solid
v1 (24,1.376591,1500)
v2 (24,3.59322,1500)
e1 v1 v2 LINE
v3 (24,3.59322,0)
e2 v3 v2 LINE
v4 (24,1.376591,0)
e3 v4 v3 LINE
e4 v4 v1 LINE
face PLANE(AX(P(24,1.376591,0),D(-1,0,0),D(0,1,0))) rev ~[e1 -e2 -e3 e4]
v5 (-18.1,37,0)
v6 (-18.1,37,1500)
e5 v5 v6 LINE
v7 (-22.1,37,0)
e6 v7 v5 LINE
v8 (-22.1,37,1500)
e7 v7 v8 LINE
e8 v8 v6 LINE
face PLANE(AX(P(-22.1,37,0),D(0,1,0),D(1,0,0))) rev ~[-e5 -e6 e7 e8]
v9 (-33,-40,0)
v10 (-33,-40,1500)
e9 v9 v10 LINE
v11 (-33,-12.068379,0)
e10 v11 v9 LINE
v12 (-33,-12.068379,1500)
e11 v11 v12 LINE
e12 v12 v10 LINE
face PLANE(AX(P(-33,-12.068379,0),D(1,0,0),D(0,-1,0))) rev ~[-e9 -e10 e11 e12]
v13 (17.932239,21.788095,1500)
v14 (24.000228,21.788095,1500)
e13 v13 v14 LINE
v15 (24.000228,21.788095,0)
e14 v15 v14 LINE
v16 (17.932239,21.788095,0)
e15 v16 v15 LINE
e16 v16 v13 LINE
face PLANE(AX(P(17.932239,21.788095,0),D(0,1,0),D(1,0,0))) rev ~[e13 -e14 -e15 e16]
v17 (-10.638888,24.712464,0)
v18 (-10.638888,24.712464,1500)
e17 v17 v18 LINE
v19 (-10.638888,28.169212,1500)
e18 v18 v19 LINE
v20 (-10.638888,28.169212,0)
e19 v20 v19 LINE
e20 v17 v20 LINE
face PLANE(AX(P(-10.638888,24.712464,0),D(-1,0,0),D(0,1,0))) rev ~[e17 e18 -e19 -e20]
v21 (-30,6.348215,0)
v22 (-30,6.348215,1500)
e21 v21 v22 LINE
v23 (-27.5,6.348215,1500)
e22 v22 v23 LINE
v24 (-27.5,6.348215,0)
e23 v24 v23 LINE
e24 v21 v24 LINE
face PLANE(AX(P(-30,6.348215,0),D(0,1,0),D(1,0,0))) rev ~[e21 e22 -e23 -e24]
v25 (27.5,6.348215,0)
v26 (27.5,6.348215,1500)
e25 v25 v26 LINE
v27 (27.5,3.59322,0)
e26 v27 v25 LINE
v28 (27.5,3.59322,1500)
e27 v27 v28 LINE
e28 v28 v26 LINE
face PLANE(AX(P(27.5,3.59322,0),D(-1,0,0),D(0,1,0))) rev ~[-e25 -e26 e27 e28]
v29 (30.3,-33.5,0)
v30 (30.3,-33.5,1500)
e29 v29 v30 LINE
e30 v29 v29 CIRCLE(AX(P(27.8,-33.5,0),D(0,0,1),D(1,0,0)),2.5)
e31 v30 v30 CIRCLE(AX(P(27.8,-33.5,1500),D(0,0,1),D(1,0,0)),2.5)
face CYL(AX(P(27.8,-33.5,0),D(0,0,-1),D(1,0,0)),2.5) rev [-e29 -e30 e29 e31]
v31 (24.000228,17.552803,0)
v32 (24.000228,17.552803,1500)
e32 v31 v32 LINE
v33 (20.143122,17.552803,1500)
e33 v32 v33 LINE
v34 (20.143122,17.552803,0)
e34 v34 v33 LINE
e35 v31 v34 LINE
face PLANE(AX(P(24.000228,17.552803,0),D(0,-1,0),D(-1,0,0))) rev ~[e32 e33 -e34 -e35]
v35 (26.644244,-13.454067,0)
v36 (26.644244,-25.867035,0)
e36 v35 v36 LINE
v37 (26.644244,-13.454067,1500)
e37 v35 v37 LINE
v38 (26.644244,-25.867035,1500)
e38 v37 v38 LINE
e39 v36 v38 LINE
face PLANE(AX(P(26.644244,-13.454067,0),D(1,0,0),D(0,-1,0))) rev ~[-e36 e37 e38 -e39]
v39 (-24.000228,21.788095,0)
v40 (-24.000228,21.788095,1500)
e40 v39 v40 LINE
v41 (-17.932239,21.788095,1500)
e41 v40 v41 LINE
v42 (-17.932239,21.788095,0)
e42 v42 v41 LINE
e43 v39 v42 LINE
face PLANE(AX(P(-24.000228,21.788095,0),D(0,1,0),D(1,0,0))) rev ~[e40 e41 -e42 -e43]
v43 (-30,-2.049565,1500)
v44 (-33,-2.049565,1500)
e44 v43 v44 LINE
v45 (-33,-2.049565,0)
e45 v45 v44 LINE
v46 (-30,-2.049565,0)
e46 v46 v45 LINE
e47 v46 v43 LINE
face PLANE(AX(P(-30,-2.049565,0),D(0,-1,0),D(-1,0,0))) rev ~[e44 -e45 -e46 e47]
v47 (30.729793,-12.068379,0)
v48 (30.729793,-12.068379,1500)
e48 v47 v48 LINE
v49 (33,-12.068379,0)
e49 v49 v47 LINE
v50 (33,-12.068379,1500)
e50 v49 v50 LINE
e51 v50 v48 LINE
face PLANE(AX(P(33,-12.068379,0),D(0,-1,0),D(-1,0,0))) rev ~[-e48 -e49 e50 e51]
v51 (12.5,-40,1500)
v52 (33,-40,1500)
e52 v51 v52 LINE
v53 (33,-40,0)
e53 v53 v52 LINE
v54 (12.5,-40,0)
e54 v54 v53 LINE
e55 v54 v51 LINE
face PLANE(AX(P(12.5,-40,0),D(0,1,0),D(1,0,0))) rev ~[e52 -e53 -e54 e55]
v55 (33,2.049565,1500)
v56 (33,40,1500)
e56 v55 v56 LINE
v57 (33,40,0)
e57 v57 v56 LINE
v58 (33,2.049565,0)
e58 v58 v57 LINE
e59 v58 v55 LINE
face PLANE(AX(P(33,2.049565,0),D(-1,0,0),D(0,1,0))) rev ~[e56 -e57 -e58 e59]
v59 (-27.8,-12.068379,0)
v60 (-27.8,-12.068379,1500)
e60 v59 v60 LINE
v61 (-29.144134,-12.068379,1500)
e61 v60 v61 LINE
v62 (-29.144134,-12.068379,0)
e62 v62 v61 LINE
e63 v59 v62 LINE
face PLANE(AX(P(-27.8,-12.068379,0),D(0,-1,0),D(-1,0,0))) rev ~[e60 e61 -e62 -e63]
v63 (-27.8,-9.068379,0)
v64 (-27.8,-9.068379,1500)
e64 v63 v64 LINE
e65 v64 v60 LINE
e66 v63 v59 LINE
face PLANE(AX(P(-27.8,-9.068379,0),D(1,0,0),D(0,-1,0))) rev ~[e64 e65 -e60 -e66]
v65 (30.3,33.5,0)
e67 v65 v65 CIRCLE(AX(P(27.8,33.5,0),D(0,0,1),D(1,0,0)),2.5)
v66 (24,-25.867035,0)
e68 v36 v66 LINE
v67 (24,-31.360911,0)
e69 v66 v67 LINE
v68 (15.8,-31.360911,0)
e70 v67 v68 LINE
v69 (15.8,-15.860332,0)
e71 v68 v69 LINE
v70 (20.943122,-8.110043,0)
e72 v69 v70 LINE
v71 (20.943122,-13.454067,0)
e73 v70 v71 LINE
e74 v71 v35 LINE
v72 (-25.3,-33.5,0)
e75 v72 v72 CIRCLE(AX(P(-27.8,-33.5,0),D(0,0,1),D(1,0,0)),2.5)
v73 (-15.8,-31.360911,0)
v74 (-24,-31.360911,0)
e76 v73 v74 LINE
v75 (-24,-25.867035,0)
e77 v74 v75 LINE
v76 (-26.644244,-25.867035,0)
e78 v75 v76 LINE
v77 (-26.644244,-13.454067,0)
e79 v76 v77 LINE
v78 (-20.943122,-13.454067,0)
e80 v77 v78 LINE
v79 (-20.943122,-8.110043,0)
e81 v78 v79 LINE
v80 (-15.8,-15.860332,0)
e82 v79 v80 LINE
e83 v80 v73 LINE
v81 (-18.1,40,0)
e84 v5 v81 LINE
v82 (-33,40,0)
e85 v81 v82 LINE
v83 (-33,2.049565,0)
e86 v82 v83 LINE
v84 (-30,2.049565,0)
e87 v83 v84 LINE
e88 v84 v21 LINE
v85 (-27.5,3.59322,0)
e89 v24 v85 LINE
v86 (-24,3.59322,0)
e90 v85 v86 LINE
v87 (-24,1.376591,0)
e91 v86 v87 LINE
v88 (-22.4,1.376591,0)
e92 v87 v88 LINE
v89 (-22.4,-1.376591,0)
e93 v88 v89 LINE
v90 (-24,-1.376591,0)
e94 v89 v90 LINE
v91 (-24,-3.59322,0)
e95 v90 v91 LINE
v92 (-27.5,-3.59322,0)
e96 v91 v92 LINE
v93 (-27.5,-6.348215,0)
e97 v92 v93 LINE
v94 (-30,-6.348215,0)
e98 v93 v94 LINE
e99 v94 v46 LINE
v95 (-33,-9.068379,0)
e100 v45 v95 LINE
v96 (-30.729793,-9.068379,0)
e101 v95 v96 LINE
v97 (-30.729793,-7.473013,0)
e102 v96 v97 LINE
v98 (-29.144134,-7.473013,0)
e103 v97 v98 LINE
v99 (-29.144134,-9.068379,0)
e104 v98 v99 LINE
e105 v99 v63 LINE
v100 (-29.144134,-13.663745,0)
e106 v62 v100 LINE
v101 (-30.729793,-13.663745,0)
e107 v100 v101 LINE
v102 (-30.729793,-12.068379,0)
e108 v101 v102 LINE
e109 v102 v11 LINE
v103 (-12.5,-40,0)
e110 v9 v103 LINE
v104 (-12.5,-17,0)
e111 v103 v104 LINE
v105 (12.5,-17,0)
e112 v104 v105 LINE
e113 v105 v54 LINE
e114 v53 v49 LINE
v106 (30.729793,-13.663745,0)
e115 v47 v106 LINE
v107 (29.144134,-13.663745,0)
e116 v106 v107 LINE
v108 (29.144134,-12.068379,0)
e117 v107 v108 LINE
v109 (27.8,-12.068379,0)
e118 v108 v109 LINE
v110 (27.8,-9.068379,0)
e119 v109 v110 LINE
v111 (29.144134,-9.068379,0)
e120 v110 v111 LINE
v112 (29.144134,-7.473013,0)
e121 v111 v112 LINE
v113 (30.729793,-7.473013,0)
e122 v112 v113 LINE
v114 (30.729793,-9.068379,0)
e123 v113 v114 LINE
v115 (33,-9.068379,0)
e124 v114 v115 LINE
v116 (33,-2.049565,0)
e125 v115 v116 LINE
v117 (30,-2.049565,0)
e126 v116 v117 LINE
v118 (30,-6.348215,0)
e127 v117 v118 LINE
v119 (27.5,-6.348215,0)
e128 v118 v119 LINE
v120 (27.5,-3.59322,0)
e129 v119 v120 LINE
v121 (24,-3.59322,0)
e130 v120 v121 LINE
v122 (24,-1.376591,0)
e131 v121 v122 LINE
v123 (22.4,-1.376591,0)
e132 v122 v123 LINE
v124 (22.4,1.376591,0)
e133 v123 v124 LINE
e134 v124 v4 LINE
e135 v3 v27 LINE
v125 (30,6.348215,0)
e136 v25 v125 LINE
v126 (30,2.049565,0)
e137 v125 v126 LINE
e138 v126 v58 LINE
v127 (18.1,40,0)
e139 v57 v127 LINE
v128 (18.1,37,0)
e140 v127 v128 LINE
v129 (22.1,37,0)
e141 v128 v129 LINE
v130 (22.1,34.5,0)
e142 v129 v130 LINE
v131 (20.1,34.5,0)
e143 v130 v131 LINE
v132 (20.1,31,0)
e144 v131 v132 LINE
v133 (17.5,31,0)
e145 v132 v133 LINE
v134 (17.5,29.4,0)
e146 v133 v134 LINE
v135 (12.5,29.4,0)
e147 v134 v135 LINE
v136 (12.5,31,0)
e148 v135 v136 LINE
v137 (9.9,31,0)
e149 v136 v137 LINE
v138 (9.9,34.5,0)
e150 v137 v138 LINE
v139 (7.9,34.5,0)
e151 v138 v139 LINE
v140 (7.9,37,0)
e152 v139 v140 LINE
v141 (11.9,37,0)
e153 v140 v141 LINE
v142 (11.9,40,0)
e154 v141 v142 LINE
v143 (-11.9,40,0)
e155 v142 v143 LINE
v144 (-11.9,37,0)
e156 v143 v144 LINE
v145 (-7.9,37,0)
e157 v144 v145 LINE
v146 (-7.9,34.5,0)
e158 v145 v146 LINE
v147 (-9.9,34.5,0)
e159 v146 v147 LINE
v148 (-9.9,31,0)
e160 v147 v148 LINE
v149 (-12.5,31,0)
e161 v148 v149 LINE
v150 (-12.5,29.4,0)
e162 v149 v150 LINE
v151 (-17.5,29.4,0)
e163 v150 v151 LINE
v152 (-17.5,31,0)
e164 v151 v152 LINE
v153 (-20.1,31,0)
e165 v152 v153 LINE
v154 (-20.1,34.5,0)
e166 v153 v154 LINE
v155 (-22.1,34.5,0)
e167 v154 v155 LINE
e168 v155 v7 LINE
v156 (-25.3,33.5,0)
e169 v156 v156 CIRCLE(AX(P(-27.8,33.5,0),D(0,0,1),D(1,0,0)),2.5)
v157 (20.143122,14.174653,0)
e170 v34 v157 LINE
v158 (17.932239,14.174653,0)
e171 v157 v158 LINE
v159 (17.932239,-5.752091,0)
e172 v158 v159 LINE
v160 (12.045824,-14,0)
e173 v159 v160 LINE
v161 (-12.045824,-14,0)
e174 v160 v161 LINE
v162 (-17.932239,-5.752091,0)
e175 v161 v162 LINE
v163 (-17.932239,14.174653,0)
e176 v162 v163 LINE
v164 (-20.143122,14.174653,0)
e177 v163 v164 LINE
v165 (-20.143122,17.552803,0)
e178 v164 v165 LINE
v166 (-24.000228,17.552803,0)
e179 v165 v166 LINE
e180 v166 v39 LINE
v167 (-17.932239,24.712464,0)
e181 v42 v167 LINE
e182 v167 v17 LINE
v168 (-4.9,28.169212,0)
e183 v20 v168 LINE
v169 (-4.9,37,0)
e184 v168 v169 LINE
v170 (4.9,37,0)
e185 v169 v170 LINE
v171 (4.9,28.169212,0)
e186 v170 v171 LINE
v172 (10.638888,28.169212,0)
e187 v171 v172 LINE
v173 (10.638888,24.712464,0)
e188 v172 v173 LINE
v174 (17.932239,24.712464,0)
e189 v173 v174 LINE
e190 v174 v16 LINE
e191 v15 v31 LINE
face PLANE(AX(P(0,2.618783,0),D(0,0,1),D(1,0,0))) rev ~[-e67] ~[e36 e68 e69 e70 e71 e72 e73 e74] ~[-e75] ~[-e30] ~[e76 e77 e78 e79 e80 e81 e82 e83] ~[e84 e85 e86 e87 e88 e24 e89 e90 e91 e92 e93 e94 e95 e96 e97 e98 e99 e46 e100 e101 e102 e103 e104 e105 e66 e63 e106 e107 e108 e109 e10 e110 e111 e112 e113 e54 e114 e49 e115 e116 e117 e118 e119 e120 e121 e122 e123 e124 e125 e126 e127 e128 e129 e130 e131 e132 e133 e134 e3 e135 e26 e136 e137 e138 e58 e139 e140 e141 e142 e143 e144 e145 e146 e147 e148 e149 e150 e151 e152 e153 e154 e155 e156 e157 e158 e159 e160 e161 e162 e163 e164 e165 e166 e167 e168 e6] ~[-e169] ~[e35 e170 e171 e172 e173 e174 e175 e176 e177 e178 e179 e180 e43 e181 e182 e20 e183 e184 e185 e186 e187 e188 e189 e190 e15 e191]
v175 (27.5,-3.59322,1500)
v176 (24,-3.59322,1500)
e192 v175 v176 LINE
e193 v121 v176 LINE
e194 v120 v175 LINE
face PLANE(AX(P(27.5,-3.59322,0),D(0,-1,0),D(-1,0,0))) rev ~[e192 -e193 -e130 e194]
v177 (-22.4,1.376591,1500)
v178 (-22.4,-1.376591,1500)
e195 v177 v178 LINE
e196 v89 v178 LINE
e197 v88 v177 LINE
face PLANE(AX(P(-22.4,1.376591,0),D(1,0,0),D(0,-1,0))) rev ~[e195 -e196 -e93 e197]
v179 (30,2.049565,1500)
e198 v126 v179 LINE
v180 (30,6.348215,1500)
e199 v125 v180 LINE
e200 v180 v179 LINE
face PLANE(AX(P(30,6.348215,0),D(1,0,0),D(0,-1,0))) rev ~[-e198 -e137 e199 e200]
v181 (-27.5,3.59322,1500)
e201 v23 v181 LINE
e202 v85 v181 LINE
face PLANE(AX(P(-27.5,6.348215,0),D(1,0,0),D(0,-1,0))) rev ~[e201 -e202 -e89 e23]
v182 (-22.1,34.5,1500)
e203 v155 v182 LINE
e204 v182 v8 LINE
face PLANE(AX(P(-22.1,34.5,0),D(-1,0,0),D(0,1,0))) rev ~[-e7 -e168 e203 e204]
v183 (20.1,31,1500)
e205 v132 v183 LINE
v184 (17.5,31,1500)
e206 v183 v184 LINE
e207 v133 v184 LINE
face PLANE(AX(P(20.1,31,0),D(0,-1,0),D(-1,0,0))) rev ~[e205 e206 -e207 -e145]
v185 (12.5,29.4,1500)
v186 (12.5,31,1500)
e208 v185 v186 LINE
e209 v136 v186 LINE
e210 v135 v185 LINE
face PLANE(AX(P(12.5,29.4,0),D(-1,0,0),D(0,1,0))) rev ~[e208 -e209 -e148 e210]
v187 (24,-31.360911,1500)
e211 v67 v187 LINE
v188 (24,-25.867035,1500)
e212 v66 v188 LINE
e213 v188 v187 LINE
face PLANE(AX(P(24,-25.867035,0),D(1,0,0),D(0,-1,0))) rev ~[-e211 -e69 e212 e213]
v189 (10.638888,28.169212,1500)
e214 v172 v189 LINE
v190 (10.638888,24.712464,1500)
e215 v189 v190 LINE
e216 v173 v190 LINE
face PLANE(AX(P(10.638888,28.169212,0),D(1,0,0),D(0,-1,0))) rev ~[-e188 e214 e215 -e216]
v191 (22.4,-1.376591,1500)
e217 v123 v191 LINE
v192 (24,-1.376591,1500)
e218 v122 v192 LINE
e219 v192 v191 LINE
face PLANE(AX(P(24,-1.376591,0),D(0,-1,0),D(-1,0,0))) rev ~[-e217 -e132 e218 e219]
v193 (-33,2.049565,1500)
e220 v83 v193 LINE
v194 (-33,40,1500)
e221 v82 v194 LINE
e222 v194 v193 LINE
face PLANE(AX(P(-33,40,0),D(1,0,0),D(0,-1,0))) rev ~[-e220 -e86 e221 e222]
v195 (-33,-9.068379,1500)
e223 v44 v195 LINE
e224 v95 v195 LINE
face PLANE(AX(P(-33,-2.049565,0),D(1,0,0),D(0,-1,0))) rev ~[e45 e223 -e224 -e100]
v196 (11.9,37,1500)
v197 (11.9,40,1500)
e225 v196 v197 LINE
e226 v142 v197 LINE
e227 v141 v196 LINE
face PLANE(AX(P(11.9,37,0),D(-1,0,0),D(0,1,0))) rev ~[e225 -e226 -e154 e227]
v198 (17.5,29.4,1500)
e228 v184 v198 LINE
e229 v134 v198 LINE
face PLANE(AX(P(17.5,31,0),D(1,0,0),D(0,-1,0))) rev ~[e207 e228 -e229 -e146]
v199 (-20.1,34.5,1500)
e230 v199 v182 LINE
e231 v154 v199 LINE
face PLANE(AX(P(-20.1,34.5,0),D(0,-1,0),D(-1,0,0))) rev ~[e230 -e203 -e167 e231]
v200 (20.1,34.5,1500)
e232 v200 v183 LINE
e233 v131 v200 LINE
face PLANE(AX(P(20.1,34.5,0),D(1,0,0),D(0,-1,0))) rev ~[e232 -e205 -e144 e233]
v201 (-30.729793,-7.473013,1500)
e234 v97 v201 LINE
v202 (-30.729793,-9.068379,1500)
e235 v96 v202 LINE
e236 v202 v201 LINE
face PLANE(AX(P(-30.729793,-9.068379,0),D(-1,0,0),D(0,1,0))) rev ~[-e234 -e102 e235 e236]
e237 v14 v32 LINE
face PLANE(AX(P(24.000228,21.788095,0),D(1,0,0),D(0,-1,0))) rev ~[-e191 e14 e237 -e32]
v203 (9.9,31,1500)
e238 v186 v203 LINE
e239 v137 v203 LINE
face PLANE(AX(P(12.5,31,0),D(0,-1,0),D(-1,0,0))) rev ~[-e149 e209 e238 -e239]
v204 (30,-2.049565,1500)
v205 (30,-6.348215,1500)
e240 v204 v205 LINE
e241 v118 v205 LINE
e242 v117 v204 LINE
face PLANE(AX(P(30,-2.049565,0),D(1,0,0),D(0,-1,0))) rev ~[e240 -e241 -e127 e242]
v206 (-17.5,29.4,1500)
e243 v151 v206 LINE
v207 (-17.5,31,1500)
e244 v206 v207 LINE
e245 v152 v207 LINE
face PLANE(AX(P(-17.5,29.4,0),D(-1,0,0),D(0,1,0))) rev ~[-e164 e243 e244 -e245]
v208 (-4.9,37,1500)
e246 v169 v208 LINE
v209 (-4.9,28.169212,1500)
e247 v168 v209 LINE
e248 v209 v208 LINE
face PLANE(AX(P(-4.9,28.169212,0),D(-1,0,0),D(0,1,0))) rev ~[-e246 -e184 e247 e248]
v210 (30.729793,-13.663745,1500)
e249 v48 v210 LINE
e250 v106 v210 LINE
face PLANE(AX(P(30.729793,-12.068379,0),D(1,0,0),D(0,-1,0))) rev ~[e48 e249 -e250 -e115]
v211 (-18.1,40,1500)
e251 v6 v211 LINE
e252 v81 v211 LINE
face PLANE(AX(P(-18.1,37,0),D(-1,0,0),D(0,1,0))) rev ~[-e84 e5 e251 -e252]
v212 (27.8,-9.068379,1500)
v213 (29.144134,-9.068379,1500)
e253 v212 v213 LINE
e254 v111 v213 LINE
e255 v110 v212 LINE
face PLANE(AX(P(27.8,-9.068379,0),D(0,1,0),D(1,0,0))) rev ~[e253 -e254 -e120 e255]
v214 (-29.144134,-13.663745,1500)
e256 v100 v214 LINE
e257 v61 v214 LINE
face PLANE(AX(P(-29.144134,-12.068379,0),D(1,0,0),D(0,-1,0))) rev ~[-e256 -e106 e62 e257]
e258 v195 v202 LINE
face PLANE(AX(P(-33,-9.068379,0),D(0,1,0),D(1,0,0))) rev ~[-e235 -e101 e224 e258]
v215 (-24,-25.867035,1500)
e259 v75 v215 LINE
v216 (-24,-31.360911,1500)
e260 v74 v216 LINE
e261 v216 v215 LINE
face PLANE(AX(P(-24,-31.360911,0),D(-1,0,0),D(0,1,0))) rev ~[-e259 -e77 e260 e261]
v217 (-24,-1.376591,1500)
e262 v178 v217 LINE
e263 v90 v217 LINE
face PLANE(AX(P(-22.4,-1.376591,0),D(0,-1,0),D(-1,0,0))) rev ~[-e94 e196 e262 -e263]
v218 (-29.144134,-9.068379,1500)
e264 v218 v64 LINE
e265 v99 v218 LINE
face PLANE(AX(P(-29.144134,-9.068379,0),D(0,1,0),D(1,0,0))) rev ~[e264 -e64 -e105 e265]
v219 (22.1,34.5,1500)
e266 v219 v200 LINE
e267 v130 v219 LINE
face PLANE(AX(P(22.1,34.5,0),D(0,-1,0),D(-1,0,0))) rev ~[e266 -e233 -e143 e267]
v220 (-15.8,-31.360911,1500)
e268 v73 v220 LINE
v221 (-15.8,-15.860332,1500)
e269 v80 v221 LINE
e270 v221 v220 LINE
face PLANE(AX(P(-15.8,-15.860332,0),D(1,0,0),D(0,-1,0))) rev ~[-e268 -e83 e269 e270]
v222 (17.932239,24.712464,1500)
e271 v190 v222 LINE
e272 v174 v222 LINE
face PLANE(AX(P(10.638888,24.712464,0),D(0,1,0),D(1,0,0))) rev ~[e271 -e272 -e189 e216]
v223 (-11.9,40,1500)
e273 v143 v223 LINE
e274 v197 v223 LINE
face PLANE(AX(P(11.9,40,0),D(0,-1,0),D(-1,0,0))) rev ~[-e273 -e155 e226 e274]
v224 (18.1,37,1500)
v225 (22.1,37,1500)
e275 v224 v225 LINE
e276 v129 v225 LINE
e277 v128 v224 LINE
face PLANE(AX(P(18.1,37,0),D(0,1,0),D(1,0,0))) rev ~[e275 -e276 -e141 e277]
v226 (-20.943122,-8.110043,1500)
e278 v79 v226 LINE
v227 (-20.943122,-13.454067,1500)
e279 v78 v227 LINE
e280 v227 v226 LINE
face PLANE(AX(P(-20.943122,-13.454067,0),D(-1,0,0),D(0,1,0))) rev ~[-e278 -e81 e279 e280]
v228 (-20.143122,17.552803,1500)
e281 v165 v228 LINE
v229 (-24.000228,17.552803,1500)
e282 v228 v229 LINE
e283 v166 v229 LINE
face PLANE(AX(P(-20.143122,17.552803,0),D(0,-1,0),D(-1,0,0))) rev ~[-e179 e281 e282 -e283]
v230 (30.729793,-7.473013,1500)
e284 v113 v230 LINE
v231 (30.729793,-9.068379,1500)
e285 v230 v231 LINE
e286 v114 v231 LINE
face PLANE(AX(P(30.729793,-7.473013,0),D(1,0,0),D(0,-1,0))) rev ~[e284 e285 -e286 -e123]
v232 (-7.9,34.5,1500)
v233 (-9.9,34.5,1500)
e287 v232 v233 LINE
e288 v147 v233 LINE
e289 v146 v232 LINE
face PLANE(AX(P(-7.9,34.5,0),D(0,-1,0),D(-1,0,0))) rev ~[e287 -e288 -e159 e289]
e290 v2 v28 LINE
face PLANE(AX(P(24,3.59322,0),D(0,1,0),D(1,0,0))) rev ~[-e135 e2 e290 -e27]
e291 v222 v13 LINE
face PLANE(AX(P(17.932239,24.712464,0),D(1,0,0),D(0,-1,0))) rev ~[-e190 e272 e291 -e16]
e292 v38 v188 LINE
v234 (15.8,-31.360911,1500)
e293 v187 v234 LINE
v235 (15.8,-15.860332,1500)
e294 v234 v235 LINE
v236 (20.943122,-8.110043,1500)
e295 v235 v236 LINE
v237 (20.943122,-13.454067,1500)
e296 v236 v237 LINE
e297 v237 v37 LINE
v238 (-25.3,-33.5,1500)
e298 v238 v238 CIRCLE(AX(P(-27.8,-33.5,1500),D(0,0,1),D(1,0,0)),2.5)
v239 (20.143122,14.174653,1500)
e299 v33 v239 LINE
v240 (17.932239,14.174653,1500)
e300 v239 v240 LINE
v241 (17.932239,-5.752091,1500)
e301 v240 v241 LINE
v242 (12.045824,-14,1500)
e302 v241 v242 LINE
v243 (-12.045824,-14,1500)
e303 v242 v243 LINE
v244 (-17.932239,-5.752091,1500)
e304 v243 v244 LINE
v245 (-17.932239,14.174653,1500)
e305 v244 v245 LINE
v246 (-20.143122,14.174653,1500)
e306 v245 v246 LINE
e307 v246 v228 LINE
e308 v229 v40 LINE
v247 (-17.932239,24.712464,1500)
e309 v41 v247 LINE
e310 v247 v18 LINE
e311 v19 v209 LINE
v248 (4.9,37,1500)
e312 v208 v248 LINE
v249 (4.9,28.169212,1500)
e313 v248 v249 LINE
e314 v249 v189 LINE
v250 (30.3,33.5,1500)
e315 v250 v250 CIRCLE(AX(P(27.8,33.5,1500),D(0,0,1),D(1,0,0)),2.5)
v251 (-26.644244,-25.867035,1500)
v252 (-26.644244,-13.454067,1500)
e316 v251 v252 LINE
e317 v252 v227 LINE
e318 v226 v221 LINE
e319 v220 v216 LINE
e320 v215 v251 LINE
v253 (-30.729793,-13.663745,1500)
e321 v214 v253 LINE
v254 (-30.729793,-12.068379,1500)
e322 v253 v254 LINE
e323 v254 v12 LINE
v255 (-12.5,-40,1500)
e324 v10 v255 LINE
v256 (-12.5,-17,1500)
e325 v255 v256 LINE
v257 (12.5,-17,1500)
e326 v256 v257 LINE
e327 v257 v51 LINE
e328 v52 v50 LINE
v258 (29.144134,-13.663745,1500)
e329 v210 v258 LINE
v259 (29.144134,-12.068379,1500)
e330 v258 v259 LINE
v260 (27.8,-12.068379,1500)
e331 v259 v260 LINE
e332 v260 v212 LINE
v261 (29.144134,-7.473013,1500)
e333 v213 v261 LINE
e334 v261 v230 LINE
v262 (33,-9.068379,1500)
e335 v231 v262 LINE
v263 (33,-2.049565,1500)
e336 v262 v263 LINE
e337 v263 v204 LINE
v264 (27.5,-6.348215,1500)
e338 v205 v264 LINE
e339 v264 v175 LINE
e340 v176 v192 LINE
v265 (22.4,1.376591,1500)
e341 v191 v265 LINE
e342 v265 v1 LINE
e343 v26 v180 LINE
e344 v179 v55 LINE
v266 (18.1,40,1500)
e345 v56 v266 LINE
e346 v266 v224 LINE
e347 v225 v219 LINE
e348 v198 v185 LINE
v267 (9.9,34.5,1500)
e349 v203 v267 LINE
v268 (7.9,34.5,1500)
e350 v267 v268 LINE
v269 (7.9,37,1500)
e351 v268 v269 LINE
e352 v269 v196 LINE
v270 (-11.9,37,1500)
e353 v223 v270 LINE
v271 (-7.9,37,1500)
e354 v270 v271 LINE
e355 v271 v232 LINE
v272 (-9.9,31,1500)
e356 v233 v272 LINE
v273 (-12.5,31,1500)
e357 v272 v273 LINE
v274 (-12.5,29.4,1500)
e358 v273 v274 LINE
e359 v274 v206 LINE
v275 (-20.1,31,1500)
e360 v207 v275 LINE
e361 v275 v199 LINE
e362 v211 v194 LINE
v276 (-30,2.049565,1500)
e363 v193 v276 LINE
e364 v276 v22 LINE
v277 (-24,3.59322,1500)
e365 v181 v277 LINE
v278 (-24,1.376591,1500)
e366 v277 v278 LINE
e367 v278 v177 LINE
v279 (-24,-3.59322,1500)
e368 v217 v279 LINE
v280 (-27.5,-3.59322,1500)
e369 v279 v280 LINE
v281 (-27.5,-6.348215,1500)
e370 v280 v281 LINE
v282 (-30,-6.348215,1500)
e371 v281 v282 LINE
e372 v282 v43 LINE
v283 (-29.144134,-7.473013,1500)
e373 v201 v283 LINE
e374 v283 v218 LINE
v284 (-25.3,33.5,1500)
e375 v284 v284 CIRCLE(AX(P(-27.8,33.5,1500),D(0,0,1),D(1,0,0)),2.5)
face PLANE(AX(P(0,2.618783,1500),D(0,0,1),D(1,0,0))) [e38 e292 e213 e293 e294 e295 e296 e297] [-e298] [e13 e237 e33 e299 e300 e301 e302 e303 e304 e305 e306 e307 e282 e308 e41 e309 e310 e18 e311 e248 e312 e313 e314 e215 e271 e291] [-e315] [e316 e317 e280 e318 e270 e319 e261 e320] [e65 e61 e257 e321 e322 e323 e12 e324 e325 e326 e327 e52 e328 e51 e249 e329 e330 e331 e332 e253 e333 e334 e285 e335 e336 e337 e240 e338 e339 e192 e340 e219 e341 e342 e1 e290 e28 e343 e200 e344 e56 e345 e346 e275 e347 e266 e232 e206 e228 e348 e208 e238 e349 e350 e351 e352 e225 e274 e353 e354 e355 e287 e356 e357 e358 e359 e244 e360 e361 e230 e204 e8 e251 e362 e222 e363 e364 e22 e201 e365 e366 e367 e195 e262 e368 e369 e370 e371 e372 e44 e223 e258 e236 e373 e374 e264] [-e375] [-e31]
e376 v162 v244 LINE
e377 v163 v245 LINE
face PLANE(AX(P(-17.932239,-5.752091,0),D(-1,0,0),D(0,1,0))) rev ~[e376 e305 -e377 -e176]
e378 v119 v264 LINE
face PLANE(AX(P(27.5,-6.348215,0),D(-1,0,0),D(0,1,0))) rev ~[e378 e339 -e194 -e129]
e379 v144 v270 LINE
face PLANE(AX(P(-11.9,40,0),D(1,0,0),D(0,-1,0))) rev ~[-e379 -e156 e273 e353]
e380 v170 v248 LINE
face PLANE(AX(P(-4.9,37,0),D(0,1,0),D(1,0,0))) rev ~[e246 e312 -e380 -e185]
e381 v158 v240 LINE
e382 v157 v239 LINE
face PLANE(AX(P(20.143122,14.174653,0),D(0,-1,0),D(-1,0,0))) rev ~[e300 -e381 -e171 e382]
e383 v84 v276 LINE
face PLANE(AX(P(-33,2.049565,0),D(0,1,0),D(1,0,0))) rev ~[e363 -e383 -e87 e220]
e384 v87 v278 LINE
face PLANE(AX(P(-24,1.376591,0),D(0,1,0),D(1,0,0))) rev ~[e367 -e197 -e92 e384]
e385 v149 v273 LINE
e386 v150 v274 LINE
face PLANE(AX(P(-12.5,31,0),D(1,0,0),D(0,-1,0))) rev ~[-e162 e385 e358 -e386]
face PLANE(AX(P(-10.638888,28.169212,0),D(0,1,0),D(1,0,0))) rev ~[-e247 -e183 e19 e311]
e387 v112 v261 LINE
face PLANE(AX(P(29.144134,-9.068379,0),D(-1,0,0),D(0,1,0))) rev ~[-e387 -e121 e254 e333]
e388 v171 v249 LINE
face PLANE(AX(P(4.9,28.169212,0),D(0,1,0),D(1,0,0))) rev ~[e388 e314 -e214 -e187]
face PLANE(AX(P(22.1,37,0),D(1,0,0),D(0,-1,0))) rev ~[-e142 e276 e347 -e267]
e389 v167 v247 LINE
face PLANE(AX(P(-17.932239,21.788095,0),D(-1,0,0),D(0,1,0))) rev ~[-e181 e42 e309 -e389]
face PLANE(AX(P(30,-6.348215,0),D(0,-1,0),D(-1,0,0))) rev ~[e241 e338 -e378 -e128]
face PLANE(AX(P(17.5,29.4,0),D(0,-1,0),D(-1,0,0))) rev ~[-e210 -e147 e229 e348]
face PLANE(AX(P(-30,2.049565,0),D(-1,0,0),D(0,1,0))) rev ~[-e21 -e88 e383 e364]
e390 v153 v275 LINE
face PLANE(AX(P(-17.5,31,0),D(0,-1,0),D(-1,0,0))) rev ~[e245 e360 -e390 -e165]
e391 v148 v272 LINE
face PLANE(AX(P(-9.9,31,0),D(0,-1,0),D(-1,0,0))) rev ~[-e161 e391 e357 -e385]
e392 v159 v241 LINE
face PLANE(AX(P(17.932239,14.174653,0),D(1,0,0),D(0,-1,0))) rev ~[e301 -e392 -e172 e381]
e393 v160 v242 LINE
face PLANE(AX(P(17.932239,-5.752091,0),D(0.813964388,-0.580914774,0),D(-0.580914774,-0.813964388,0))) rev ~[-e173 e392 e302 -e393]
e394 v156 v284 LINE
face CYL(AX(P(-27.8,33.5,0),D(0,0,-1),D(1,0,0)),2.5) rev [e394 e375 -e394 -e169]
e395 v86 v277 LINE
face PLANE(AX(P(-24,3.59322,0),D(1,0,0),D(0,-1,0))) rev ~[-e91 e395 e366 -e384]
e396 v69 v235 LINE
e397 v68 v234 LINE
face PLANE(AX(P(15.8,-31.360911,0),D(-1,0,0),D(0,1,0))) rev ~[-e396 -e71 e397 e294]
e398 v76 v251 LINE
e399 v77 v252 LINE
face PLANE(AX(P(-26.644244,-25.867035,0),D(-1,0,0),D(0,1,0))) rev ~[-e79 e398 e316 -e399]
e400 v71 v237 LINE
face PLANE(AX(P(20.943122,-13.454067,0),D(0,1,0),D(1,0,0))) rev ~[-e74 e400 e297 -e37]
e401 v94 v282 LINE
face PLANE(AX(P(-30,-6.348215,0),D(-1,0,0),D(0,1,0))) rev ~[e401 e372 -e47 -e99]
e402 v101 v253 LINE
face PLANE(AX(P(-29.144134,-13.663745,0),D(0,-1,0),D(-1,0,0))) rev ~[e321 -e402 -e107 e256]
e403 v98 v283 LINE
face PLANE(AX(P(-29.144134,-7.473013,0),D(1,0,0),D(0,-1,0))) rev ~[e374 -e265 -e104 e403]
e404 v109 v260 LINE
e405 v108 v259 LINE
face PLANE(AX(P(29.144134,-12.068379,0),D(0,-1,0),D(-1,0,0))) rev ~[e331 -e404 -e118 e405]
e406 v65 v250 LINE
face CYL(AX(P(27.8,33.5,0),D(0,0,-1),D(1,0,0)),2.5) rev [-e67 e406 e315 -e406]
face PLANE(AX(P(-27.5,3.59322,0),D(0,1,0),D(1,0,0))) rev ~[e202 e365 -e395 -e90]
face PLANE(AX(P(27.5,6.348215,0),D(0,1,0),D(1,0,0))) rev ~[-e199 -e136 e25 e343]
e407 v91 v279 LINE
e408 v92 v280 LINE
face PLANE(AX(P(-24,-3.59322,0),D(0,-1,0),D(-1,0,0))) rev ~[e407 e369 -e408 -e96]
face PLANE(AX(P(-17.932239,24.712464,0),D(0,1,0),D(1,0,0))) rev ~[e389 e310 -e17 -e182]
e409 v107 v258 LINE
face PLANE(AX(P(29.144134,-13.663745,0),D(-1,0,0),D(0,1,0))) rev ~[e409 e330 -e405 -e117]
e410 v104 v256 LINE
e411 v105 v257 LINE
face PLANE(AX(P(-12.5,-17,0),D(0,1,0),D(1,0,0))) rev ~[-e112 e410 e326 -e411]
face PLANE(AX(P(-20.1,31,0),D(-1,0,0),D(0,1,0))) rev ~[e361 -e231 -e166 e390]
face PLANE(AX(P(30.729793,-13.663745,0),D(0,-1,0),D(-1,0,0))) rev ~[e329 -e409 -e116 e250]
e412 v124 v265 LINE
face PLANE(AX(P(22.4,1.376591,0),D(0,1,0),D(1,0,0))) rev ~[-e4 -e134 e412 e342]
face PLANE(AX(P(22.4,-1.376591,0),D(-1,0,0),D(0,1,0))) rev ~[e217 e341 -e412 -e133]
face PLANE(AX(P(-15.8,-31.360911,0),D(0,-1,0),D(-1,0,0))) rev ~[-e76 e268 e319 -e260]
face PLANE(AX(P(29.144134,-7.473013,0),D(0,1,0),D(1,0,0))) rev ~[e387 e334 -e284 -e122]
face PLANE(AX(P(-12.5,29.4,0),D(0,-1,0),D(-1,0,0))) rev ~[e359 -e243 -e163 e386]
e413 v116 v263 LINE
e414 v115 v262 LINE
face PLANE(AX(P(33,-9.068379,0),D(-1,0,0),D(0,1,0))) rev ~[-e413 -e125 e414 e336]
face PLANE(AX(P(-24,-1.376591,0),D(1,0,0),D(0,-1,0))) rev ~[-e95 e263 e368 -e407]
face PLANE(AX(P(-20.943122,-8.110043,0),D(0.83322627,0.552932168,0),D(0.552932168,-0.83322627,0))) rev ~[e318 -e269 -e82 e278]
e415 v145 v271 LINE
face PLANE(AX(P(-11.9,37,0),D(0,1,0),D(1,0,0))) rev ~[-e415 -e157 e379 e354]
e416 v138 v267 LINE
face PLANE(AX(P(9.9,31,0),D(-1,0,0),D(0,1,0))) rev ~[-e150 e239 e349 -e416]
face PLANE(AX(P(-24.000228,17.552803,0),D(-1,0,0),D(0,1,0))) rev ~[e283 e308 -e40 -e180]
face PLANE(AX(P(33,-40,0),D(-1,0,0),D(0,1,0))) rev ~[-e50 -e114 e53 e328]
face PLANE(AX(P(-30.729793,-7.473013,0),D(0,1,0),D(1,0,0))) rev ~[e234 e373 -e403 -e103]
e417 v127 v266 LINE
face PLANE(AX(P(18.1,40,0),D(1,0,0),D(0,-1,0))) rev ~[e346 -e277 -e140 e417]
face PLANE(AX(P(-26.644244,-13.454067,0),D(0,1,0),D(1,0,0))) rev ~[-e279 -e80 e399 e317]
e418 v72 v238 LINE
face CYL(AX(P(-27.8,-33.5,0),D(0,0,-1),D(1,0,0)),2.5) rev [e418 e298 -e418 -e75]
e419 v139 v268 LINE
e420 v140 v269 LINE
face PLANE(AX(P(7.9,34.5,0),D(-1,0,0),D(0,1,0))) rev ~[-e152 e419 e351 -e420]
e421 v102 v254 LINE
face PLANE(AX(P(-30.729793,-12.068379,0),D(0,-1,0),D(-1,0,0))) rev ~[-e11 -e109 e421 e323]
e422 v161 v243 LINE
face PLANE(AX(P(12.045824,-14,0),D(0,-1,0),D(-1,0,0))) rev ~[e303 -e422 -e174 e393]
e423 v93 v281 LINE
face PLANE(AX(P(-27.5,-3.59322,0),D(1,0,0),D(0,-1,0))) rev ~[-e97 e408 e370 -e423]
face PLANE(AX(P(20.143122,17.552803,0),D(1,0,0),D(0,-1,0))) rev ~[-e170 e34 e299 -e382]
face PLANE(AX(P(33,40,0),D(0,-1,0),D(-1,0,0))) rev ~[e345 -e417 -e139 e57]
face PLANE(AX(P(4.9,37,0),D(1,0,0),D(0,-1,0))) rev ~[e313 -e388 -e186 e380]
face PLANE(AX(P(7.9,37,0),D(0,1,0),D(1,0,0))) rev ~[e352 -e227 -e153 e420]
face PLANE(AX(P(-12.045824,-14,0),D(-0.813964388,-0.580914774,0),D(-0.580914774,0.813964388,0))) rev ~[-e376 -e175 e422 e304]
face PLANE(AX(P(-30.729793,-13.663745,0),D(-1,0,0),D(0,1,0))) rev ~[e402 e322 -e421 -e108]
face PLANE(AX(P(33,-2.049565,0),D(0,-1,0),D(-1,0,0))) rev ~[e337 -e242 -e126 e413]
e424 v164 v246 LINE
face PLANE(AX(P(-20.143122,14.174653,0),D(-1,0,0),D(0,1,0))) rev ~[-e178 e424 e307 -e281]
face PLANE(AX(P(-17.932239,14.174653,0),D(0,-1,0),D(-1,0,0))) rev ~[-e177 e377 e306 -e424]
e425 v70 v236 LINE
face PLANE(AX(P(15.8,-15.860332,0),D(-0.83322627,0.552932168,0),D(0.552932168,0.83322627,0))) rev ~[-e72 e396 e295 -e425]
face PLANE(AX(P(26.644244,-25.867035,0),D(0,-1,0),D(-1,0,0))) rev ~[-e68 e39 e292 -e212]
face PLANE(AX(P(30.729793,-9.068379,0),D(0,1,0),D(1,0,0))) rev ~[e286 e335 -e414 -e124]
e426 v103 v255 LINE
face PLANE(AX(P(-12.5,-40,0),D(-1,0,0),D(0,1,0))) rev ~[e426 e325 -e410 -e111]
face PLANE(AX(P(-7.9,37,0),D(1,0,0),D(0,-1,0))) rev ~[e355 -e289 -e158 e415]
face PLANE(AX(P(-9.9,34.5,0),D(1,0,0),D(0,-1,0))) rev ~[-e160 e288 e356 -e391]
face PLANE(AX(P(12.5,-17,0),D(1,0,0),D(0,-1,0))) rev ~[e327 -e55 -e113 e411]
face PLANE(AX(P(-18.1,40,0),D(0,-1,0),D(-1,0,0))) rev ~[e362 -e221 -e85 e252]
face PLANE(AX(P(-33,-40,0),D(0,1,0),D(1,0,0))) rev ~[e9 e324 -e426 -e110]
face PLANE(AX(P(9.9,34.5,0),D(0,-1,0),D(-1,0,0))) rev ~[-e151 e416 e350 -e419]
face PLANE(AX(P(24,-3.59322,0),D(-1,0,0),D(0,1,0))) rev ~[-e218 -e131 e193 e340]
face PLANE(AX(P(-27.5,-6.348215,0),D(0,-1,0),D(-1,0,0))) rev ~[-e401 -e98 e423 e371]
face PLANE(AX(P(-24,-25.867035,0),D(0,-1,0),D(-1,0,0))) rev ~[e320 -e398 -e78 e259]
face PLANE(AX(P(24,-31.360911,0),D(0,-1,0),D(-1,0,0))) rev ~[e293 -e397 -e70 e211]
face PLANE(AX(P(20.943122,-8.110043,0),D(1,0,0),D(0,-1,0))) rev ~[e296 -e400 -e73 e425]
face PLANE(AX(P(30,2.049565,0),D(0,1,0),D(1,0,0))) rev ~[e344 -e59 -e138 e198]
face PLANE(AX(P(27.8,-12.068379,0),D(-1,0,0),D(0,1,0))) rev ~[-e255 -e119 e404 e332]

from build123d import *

# Parameters (mm, degrees)
SKETCH_2_R      = 2.5
EXTRUDE_1_DEPTH = 1500


with BuildPart() as part:
    # 草图2 → 凸台-拉伸1 (new body)
    with BuildSketch(Plane.XY):
        Polygon((-18.1, 37), (-18.1, 40), (-33, 40), (-33, 2.049564589), (-30, 2.049564589), (-30, 6.348214799), (-27.5, 6.348214799), (-27.5, 3.593219783), (-24, 3.593219783), (-24, 1.376590931), (-22.4, 1.376590931), (-22.4, -1.376590931), (-24, -1.376590931), (-24, -3.593219783), (-27.5, -3.593219783), (-27.5, -6.348214799), (-30, -6.348214799), (-30, -2.049564589), (-33, -2.049564589), (-33, -9.06837916), (-30.729793093, -9.06837916), (-30.729793093, -7.473013176), (-29.144133649, -7.473013176), (-29.144133649, -9.06837916), (-27.8, -9.06837916), (-27.8, -10.56837916), (-27.8, -12.06837916), (-29.144133649, -12.06837916), (-29.144133649, -13.663745144), (-30.729793093, -13.663745144), (-30.729793093, -12.06837916), (-33, -12.06837916), (-33, -40), (-12.5, -40), (-12.5, -17), (12.5, -17), (12.5, -40), (33, -40), (33, -12.06837916), (30.729793093, -12.06837916), (30.729793093, -13.663745144), (29.144133649, -13.663745144), (29.144133649, -12.06837916), (27.8, -12.06837916), (27.8, -10.56837916), (27.8, -9.06837916), (29.144133649, -9.06837916), (29.144133649, -7.473013176), (30.729793093, -7.473013176), (30.729793093, -9.06837916), (33, -9.06837916), (33, -2.049564589), (30, -2.049564589), (30, -6.348214799), (27.5, -6.348214799), (27.5, -3.593219783), (24, -3.593219783), (24, -1.376590931), (22.4, -1.376590931), (22.4, 1.376590931), (24, 1.376590931), (24, 3.593219783), (27.5, 3.593219783), (27.5, 6.348214799), (30, 6.348214799), (30, 2.049564589), (33, 2.049564589), (33, 40), (18.1, 40), (18.1, 37), (22.1, 37), (22.1, 34.5), (20.1, 34.5), (20.1, 31), (17.5, 31), (17.5, 29.4), (12.5, 29.4), (12.5, 31), (9.9, 31), (9.9, 34.5), (7.9, 34.5), (7.9, 37), (11.9, 37), (11.9, 40), (-11.9, 40), (-11.9, 37), (-7.9, 37), (-7.9, 34.5), (-9.9, 34.5), (-9.9, 31), (-12.5, 31), (-12.5, 29.4), (-17.5, 29.4), (-17.5, 31), (-20.1, 31), (-20.1, 34.5), (-22.1, 34.5), (-22.1, 37), align=None)
        with Locations((-27.8, -33.5)):
            Circle(SKETCH_2_R, mode=Mode.SUBTRACT)
        Polygon((-20.943121928, -13.45406673), (-20.943121928, -8.11004262), (-15.8, -15.86033199), (-15.8, -31.360910729), (-24, -31.360910729), (-24, -25.86703472), (-26.644243735, -25.86703472), (-26.644243735, -13.45406673), align=None, mode=Mode.SUBTRACT)
        with Locations((27.8, -33.5)):
            Circle(SKETCH_2_R, mode=Mode.SUBTRACT)
        Polygon((24, -25.86703472), (24, -31.360910729), (15.8, -31.360910729), (15.8, -15.86033199), (20.943121928, -8.11004262), (20.943121928, -13.45406673), (26.644243735, -13.45406673), (26.644243735, -25.86703472), align=None, mode=Mode.SUBTRACT)
        with Locations((-27.8, 33.5)):
            Circle(SKETCH_2_R, mode=Mode.SUBTRACT)
        Polygon((-24.000227571, 17.552802839), (-24.000227571, 21.788095294), (-17.932238887, 21.788095294), (-17.932238887, 24.712463894), (-10.638888278, 24.712463894), (-10.638888278, 28.169211595), (-4.9, 28.169211595), (-4.9, 37), (4.9, 37), (4.9, 28.169211595), (10.638888278, 28.169211595), (10.638888278, 24.712463894), (17.932238887, 24.712463894), (17.932238887, 21.788095294), (24.000227571, 21.788095294), (24.000227571, 17.552802839), (20.143121928, 17.552802839), (20.143121928, 14.174652905), (17.932238887, 14.174652905), (17.932238887, -5.752091446), (12.045824189, -14), (0, -14), (-12.045824189, -14), (-17.932238887, -5.752091446), (-17.932238887, 14.174652905), (-20.143121928, 14.174652905), (-20.143121928, 17.552802839), align=None, mode=Mode.SUBTRACT)
        with Locations((27.8, 33.5)):
            Circle(SKETCH_2_R, mode=Mode.SUBTRACT)
    extrude(amount=EXTRUDE_1_DEPTH)


solid = part.part
